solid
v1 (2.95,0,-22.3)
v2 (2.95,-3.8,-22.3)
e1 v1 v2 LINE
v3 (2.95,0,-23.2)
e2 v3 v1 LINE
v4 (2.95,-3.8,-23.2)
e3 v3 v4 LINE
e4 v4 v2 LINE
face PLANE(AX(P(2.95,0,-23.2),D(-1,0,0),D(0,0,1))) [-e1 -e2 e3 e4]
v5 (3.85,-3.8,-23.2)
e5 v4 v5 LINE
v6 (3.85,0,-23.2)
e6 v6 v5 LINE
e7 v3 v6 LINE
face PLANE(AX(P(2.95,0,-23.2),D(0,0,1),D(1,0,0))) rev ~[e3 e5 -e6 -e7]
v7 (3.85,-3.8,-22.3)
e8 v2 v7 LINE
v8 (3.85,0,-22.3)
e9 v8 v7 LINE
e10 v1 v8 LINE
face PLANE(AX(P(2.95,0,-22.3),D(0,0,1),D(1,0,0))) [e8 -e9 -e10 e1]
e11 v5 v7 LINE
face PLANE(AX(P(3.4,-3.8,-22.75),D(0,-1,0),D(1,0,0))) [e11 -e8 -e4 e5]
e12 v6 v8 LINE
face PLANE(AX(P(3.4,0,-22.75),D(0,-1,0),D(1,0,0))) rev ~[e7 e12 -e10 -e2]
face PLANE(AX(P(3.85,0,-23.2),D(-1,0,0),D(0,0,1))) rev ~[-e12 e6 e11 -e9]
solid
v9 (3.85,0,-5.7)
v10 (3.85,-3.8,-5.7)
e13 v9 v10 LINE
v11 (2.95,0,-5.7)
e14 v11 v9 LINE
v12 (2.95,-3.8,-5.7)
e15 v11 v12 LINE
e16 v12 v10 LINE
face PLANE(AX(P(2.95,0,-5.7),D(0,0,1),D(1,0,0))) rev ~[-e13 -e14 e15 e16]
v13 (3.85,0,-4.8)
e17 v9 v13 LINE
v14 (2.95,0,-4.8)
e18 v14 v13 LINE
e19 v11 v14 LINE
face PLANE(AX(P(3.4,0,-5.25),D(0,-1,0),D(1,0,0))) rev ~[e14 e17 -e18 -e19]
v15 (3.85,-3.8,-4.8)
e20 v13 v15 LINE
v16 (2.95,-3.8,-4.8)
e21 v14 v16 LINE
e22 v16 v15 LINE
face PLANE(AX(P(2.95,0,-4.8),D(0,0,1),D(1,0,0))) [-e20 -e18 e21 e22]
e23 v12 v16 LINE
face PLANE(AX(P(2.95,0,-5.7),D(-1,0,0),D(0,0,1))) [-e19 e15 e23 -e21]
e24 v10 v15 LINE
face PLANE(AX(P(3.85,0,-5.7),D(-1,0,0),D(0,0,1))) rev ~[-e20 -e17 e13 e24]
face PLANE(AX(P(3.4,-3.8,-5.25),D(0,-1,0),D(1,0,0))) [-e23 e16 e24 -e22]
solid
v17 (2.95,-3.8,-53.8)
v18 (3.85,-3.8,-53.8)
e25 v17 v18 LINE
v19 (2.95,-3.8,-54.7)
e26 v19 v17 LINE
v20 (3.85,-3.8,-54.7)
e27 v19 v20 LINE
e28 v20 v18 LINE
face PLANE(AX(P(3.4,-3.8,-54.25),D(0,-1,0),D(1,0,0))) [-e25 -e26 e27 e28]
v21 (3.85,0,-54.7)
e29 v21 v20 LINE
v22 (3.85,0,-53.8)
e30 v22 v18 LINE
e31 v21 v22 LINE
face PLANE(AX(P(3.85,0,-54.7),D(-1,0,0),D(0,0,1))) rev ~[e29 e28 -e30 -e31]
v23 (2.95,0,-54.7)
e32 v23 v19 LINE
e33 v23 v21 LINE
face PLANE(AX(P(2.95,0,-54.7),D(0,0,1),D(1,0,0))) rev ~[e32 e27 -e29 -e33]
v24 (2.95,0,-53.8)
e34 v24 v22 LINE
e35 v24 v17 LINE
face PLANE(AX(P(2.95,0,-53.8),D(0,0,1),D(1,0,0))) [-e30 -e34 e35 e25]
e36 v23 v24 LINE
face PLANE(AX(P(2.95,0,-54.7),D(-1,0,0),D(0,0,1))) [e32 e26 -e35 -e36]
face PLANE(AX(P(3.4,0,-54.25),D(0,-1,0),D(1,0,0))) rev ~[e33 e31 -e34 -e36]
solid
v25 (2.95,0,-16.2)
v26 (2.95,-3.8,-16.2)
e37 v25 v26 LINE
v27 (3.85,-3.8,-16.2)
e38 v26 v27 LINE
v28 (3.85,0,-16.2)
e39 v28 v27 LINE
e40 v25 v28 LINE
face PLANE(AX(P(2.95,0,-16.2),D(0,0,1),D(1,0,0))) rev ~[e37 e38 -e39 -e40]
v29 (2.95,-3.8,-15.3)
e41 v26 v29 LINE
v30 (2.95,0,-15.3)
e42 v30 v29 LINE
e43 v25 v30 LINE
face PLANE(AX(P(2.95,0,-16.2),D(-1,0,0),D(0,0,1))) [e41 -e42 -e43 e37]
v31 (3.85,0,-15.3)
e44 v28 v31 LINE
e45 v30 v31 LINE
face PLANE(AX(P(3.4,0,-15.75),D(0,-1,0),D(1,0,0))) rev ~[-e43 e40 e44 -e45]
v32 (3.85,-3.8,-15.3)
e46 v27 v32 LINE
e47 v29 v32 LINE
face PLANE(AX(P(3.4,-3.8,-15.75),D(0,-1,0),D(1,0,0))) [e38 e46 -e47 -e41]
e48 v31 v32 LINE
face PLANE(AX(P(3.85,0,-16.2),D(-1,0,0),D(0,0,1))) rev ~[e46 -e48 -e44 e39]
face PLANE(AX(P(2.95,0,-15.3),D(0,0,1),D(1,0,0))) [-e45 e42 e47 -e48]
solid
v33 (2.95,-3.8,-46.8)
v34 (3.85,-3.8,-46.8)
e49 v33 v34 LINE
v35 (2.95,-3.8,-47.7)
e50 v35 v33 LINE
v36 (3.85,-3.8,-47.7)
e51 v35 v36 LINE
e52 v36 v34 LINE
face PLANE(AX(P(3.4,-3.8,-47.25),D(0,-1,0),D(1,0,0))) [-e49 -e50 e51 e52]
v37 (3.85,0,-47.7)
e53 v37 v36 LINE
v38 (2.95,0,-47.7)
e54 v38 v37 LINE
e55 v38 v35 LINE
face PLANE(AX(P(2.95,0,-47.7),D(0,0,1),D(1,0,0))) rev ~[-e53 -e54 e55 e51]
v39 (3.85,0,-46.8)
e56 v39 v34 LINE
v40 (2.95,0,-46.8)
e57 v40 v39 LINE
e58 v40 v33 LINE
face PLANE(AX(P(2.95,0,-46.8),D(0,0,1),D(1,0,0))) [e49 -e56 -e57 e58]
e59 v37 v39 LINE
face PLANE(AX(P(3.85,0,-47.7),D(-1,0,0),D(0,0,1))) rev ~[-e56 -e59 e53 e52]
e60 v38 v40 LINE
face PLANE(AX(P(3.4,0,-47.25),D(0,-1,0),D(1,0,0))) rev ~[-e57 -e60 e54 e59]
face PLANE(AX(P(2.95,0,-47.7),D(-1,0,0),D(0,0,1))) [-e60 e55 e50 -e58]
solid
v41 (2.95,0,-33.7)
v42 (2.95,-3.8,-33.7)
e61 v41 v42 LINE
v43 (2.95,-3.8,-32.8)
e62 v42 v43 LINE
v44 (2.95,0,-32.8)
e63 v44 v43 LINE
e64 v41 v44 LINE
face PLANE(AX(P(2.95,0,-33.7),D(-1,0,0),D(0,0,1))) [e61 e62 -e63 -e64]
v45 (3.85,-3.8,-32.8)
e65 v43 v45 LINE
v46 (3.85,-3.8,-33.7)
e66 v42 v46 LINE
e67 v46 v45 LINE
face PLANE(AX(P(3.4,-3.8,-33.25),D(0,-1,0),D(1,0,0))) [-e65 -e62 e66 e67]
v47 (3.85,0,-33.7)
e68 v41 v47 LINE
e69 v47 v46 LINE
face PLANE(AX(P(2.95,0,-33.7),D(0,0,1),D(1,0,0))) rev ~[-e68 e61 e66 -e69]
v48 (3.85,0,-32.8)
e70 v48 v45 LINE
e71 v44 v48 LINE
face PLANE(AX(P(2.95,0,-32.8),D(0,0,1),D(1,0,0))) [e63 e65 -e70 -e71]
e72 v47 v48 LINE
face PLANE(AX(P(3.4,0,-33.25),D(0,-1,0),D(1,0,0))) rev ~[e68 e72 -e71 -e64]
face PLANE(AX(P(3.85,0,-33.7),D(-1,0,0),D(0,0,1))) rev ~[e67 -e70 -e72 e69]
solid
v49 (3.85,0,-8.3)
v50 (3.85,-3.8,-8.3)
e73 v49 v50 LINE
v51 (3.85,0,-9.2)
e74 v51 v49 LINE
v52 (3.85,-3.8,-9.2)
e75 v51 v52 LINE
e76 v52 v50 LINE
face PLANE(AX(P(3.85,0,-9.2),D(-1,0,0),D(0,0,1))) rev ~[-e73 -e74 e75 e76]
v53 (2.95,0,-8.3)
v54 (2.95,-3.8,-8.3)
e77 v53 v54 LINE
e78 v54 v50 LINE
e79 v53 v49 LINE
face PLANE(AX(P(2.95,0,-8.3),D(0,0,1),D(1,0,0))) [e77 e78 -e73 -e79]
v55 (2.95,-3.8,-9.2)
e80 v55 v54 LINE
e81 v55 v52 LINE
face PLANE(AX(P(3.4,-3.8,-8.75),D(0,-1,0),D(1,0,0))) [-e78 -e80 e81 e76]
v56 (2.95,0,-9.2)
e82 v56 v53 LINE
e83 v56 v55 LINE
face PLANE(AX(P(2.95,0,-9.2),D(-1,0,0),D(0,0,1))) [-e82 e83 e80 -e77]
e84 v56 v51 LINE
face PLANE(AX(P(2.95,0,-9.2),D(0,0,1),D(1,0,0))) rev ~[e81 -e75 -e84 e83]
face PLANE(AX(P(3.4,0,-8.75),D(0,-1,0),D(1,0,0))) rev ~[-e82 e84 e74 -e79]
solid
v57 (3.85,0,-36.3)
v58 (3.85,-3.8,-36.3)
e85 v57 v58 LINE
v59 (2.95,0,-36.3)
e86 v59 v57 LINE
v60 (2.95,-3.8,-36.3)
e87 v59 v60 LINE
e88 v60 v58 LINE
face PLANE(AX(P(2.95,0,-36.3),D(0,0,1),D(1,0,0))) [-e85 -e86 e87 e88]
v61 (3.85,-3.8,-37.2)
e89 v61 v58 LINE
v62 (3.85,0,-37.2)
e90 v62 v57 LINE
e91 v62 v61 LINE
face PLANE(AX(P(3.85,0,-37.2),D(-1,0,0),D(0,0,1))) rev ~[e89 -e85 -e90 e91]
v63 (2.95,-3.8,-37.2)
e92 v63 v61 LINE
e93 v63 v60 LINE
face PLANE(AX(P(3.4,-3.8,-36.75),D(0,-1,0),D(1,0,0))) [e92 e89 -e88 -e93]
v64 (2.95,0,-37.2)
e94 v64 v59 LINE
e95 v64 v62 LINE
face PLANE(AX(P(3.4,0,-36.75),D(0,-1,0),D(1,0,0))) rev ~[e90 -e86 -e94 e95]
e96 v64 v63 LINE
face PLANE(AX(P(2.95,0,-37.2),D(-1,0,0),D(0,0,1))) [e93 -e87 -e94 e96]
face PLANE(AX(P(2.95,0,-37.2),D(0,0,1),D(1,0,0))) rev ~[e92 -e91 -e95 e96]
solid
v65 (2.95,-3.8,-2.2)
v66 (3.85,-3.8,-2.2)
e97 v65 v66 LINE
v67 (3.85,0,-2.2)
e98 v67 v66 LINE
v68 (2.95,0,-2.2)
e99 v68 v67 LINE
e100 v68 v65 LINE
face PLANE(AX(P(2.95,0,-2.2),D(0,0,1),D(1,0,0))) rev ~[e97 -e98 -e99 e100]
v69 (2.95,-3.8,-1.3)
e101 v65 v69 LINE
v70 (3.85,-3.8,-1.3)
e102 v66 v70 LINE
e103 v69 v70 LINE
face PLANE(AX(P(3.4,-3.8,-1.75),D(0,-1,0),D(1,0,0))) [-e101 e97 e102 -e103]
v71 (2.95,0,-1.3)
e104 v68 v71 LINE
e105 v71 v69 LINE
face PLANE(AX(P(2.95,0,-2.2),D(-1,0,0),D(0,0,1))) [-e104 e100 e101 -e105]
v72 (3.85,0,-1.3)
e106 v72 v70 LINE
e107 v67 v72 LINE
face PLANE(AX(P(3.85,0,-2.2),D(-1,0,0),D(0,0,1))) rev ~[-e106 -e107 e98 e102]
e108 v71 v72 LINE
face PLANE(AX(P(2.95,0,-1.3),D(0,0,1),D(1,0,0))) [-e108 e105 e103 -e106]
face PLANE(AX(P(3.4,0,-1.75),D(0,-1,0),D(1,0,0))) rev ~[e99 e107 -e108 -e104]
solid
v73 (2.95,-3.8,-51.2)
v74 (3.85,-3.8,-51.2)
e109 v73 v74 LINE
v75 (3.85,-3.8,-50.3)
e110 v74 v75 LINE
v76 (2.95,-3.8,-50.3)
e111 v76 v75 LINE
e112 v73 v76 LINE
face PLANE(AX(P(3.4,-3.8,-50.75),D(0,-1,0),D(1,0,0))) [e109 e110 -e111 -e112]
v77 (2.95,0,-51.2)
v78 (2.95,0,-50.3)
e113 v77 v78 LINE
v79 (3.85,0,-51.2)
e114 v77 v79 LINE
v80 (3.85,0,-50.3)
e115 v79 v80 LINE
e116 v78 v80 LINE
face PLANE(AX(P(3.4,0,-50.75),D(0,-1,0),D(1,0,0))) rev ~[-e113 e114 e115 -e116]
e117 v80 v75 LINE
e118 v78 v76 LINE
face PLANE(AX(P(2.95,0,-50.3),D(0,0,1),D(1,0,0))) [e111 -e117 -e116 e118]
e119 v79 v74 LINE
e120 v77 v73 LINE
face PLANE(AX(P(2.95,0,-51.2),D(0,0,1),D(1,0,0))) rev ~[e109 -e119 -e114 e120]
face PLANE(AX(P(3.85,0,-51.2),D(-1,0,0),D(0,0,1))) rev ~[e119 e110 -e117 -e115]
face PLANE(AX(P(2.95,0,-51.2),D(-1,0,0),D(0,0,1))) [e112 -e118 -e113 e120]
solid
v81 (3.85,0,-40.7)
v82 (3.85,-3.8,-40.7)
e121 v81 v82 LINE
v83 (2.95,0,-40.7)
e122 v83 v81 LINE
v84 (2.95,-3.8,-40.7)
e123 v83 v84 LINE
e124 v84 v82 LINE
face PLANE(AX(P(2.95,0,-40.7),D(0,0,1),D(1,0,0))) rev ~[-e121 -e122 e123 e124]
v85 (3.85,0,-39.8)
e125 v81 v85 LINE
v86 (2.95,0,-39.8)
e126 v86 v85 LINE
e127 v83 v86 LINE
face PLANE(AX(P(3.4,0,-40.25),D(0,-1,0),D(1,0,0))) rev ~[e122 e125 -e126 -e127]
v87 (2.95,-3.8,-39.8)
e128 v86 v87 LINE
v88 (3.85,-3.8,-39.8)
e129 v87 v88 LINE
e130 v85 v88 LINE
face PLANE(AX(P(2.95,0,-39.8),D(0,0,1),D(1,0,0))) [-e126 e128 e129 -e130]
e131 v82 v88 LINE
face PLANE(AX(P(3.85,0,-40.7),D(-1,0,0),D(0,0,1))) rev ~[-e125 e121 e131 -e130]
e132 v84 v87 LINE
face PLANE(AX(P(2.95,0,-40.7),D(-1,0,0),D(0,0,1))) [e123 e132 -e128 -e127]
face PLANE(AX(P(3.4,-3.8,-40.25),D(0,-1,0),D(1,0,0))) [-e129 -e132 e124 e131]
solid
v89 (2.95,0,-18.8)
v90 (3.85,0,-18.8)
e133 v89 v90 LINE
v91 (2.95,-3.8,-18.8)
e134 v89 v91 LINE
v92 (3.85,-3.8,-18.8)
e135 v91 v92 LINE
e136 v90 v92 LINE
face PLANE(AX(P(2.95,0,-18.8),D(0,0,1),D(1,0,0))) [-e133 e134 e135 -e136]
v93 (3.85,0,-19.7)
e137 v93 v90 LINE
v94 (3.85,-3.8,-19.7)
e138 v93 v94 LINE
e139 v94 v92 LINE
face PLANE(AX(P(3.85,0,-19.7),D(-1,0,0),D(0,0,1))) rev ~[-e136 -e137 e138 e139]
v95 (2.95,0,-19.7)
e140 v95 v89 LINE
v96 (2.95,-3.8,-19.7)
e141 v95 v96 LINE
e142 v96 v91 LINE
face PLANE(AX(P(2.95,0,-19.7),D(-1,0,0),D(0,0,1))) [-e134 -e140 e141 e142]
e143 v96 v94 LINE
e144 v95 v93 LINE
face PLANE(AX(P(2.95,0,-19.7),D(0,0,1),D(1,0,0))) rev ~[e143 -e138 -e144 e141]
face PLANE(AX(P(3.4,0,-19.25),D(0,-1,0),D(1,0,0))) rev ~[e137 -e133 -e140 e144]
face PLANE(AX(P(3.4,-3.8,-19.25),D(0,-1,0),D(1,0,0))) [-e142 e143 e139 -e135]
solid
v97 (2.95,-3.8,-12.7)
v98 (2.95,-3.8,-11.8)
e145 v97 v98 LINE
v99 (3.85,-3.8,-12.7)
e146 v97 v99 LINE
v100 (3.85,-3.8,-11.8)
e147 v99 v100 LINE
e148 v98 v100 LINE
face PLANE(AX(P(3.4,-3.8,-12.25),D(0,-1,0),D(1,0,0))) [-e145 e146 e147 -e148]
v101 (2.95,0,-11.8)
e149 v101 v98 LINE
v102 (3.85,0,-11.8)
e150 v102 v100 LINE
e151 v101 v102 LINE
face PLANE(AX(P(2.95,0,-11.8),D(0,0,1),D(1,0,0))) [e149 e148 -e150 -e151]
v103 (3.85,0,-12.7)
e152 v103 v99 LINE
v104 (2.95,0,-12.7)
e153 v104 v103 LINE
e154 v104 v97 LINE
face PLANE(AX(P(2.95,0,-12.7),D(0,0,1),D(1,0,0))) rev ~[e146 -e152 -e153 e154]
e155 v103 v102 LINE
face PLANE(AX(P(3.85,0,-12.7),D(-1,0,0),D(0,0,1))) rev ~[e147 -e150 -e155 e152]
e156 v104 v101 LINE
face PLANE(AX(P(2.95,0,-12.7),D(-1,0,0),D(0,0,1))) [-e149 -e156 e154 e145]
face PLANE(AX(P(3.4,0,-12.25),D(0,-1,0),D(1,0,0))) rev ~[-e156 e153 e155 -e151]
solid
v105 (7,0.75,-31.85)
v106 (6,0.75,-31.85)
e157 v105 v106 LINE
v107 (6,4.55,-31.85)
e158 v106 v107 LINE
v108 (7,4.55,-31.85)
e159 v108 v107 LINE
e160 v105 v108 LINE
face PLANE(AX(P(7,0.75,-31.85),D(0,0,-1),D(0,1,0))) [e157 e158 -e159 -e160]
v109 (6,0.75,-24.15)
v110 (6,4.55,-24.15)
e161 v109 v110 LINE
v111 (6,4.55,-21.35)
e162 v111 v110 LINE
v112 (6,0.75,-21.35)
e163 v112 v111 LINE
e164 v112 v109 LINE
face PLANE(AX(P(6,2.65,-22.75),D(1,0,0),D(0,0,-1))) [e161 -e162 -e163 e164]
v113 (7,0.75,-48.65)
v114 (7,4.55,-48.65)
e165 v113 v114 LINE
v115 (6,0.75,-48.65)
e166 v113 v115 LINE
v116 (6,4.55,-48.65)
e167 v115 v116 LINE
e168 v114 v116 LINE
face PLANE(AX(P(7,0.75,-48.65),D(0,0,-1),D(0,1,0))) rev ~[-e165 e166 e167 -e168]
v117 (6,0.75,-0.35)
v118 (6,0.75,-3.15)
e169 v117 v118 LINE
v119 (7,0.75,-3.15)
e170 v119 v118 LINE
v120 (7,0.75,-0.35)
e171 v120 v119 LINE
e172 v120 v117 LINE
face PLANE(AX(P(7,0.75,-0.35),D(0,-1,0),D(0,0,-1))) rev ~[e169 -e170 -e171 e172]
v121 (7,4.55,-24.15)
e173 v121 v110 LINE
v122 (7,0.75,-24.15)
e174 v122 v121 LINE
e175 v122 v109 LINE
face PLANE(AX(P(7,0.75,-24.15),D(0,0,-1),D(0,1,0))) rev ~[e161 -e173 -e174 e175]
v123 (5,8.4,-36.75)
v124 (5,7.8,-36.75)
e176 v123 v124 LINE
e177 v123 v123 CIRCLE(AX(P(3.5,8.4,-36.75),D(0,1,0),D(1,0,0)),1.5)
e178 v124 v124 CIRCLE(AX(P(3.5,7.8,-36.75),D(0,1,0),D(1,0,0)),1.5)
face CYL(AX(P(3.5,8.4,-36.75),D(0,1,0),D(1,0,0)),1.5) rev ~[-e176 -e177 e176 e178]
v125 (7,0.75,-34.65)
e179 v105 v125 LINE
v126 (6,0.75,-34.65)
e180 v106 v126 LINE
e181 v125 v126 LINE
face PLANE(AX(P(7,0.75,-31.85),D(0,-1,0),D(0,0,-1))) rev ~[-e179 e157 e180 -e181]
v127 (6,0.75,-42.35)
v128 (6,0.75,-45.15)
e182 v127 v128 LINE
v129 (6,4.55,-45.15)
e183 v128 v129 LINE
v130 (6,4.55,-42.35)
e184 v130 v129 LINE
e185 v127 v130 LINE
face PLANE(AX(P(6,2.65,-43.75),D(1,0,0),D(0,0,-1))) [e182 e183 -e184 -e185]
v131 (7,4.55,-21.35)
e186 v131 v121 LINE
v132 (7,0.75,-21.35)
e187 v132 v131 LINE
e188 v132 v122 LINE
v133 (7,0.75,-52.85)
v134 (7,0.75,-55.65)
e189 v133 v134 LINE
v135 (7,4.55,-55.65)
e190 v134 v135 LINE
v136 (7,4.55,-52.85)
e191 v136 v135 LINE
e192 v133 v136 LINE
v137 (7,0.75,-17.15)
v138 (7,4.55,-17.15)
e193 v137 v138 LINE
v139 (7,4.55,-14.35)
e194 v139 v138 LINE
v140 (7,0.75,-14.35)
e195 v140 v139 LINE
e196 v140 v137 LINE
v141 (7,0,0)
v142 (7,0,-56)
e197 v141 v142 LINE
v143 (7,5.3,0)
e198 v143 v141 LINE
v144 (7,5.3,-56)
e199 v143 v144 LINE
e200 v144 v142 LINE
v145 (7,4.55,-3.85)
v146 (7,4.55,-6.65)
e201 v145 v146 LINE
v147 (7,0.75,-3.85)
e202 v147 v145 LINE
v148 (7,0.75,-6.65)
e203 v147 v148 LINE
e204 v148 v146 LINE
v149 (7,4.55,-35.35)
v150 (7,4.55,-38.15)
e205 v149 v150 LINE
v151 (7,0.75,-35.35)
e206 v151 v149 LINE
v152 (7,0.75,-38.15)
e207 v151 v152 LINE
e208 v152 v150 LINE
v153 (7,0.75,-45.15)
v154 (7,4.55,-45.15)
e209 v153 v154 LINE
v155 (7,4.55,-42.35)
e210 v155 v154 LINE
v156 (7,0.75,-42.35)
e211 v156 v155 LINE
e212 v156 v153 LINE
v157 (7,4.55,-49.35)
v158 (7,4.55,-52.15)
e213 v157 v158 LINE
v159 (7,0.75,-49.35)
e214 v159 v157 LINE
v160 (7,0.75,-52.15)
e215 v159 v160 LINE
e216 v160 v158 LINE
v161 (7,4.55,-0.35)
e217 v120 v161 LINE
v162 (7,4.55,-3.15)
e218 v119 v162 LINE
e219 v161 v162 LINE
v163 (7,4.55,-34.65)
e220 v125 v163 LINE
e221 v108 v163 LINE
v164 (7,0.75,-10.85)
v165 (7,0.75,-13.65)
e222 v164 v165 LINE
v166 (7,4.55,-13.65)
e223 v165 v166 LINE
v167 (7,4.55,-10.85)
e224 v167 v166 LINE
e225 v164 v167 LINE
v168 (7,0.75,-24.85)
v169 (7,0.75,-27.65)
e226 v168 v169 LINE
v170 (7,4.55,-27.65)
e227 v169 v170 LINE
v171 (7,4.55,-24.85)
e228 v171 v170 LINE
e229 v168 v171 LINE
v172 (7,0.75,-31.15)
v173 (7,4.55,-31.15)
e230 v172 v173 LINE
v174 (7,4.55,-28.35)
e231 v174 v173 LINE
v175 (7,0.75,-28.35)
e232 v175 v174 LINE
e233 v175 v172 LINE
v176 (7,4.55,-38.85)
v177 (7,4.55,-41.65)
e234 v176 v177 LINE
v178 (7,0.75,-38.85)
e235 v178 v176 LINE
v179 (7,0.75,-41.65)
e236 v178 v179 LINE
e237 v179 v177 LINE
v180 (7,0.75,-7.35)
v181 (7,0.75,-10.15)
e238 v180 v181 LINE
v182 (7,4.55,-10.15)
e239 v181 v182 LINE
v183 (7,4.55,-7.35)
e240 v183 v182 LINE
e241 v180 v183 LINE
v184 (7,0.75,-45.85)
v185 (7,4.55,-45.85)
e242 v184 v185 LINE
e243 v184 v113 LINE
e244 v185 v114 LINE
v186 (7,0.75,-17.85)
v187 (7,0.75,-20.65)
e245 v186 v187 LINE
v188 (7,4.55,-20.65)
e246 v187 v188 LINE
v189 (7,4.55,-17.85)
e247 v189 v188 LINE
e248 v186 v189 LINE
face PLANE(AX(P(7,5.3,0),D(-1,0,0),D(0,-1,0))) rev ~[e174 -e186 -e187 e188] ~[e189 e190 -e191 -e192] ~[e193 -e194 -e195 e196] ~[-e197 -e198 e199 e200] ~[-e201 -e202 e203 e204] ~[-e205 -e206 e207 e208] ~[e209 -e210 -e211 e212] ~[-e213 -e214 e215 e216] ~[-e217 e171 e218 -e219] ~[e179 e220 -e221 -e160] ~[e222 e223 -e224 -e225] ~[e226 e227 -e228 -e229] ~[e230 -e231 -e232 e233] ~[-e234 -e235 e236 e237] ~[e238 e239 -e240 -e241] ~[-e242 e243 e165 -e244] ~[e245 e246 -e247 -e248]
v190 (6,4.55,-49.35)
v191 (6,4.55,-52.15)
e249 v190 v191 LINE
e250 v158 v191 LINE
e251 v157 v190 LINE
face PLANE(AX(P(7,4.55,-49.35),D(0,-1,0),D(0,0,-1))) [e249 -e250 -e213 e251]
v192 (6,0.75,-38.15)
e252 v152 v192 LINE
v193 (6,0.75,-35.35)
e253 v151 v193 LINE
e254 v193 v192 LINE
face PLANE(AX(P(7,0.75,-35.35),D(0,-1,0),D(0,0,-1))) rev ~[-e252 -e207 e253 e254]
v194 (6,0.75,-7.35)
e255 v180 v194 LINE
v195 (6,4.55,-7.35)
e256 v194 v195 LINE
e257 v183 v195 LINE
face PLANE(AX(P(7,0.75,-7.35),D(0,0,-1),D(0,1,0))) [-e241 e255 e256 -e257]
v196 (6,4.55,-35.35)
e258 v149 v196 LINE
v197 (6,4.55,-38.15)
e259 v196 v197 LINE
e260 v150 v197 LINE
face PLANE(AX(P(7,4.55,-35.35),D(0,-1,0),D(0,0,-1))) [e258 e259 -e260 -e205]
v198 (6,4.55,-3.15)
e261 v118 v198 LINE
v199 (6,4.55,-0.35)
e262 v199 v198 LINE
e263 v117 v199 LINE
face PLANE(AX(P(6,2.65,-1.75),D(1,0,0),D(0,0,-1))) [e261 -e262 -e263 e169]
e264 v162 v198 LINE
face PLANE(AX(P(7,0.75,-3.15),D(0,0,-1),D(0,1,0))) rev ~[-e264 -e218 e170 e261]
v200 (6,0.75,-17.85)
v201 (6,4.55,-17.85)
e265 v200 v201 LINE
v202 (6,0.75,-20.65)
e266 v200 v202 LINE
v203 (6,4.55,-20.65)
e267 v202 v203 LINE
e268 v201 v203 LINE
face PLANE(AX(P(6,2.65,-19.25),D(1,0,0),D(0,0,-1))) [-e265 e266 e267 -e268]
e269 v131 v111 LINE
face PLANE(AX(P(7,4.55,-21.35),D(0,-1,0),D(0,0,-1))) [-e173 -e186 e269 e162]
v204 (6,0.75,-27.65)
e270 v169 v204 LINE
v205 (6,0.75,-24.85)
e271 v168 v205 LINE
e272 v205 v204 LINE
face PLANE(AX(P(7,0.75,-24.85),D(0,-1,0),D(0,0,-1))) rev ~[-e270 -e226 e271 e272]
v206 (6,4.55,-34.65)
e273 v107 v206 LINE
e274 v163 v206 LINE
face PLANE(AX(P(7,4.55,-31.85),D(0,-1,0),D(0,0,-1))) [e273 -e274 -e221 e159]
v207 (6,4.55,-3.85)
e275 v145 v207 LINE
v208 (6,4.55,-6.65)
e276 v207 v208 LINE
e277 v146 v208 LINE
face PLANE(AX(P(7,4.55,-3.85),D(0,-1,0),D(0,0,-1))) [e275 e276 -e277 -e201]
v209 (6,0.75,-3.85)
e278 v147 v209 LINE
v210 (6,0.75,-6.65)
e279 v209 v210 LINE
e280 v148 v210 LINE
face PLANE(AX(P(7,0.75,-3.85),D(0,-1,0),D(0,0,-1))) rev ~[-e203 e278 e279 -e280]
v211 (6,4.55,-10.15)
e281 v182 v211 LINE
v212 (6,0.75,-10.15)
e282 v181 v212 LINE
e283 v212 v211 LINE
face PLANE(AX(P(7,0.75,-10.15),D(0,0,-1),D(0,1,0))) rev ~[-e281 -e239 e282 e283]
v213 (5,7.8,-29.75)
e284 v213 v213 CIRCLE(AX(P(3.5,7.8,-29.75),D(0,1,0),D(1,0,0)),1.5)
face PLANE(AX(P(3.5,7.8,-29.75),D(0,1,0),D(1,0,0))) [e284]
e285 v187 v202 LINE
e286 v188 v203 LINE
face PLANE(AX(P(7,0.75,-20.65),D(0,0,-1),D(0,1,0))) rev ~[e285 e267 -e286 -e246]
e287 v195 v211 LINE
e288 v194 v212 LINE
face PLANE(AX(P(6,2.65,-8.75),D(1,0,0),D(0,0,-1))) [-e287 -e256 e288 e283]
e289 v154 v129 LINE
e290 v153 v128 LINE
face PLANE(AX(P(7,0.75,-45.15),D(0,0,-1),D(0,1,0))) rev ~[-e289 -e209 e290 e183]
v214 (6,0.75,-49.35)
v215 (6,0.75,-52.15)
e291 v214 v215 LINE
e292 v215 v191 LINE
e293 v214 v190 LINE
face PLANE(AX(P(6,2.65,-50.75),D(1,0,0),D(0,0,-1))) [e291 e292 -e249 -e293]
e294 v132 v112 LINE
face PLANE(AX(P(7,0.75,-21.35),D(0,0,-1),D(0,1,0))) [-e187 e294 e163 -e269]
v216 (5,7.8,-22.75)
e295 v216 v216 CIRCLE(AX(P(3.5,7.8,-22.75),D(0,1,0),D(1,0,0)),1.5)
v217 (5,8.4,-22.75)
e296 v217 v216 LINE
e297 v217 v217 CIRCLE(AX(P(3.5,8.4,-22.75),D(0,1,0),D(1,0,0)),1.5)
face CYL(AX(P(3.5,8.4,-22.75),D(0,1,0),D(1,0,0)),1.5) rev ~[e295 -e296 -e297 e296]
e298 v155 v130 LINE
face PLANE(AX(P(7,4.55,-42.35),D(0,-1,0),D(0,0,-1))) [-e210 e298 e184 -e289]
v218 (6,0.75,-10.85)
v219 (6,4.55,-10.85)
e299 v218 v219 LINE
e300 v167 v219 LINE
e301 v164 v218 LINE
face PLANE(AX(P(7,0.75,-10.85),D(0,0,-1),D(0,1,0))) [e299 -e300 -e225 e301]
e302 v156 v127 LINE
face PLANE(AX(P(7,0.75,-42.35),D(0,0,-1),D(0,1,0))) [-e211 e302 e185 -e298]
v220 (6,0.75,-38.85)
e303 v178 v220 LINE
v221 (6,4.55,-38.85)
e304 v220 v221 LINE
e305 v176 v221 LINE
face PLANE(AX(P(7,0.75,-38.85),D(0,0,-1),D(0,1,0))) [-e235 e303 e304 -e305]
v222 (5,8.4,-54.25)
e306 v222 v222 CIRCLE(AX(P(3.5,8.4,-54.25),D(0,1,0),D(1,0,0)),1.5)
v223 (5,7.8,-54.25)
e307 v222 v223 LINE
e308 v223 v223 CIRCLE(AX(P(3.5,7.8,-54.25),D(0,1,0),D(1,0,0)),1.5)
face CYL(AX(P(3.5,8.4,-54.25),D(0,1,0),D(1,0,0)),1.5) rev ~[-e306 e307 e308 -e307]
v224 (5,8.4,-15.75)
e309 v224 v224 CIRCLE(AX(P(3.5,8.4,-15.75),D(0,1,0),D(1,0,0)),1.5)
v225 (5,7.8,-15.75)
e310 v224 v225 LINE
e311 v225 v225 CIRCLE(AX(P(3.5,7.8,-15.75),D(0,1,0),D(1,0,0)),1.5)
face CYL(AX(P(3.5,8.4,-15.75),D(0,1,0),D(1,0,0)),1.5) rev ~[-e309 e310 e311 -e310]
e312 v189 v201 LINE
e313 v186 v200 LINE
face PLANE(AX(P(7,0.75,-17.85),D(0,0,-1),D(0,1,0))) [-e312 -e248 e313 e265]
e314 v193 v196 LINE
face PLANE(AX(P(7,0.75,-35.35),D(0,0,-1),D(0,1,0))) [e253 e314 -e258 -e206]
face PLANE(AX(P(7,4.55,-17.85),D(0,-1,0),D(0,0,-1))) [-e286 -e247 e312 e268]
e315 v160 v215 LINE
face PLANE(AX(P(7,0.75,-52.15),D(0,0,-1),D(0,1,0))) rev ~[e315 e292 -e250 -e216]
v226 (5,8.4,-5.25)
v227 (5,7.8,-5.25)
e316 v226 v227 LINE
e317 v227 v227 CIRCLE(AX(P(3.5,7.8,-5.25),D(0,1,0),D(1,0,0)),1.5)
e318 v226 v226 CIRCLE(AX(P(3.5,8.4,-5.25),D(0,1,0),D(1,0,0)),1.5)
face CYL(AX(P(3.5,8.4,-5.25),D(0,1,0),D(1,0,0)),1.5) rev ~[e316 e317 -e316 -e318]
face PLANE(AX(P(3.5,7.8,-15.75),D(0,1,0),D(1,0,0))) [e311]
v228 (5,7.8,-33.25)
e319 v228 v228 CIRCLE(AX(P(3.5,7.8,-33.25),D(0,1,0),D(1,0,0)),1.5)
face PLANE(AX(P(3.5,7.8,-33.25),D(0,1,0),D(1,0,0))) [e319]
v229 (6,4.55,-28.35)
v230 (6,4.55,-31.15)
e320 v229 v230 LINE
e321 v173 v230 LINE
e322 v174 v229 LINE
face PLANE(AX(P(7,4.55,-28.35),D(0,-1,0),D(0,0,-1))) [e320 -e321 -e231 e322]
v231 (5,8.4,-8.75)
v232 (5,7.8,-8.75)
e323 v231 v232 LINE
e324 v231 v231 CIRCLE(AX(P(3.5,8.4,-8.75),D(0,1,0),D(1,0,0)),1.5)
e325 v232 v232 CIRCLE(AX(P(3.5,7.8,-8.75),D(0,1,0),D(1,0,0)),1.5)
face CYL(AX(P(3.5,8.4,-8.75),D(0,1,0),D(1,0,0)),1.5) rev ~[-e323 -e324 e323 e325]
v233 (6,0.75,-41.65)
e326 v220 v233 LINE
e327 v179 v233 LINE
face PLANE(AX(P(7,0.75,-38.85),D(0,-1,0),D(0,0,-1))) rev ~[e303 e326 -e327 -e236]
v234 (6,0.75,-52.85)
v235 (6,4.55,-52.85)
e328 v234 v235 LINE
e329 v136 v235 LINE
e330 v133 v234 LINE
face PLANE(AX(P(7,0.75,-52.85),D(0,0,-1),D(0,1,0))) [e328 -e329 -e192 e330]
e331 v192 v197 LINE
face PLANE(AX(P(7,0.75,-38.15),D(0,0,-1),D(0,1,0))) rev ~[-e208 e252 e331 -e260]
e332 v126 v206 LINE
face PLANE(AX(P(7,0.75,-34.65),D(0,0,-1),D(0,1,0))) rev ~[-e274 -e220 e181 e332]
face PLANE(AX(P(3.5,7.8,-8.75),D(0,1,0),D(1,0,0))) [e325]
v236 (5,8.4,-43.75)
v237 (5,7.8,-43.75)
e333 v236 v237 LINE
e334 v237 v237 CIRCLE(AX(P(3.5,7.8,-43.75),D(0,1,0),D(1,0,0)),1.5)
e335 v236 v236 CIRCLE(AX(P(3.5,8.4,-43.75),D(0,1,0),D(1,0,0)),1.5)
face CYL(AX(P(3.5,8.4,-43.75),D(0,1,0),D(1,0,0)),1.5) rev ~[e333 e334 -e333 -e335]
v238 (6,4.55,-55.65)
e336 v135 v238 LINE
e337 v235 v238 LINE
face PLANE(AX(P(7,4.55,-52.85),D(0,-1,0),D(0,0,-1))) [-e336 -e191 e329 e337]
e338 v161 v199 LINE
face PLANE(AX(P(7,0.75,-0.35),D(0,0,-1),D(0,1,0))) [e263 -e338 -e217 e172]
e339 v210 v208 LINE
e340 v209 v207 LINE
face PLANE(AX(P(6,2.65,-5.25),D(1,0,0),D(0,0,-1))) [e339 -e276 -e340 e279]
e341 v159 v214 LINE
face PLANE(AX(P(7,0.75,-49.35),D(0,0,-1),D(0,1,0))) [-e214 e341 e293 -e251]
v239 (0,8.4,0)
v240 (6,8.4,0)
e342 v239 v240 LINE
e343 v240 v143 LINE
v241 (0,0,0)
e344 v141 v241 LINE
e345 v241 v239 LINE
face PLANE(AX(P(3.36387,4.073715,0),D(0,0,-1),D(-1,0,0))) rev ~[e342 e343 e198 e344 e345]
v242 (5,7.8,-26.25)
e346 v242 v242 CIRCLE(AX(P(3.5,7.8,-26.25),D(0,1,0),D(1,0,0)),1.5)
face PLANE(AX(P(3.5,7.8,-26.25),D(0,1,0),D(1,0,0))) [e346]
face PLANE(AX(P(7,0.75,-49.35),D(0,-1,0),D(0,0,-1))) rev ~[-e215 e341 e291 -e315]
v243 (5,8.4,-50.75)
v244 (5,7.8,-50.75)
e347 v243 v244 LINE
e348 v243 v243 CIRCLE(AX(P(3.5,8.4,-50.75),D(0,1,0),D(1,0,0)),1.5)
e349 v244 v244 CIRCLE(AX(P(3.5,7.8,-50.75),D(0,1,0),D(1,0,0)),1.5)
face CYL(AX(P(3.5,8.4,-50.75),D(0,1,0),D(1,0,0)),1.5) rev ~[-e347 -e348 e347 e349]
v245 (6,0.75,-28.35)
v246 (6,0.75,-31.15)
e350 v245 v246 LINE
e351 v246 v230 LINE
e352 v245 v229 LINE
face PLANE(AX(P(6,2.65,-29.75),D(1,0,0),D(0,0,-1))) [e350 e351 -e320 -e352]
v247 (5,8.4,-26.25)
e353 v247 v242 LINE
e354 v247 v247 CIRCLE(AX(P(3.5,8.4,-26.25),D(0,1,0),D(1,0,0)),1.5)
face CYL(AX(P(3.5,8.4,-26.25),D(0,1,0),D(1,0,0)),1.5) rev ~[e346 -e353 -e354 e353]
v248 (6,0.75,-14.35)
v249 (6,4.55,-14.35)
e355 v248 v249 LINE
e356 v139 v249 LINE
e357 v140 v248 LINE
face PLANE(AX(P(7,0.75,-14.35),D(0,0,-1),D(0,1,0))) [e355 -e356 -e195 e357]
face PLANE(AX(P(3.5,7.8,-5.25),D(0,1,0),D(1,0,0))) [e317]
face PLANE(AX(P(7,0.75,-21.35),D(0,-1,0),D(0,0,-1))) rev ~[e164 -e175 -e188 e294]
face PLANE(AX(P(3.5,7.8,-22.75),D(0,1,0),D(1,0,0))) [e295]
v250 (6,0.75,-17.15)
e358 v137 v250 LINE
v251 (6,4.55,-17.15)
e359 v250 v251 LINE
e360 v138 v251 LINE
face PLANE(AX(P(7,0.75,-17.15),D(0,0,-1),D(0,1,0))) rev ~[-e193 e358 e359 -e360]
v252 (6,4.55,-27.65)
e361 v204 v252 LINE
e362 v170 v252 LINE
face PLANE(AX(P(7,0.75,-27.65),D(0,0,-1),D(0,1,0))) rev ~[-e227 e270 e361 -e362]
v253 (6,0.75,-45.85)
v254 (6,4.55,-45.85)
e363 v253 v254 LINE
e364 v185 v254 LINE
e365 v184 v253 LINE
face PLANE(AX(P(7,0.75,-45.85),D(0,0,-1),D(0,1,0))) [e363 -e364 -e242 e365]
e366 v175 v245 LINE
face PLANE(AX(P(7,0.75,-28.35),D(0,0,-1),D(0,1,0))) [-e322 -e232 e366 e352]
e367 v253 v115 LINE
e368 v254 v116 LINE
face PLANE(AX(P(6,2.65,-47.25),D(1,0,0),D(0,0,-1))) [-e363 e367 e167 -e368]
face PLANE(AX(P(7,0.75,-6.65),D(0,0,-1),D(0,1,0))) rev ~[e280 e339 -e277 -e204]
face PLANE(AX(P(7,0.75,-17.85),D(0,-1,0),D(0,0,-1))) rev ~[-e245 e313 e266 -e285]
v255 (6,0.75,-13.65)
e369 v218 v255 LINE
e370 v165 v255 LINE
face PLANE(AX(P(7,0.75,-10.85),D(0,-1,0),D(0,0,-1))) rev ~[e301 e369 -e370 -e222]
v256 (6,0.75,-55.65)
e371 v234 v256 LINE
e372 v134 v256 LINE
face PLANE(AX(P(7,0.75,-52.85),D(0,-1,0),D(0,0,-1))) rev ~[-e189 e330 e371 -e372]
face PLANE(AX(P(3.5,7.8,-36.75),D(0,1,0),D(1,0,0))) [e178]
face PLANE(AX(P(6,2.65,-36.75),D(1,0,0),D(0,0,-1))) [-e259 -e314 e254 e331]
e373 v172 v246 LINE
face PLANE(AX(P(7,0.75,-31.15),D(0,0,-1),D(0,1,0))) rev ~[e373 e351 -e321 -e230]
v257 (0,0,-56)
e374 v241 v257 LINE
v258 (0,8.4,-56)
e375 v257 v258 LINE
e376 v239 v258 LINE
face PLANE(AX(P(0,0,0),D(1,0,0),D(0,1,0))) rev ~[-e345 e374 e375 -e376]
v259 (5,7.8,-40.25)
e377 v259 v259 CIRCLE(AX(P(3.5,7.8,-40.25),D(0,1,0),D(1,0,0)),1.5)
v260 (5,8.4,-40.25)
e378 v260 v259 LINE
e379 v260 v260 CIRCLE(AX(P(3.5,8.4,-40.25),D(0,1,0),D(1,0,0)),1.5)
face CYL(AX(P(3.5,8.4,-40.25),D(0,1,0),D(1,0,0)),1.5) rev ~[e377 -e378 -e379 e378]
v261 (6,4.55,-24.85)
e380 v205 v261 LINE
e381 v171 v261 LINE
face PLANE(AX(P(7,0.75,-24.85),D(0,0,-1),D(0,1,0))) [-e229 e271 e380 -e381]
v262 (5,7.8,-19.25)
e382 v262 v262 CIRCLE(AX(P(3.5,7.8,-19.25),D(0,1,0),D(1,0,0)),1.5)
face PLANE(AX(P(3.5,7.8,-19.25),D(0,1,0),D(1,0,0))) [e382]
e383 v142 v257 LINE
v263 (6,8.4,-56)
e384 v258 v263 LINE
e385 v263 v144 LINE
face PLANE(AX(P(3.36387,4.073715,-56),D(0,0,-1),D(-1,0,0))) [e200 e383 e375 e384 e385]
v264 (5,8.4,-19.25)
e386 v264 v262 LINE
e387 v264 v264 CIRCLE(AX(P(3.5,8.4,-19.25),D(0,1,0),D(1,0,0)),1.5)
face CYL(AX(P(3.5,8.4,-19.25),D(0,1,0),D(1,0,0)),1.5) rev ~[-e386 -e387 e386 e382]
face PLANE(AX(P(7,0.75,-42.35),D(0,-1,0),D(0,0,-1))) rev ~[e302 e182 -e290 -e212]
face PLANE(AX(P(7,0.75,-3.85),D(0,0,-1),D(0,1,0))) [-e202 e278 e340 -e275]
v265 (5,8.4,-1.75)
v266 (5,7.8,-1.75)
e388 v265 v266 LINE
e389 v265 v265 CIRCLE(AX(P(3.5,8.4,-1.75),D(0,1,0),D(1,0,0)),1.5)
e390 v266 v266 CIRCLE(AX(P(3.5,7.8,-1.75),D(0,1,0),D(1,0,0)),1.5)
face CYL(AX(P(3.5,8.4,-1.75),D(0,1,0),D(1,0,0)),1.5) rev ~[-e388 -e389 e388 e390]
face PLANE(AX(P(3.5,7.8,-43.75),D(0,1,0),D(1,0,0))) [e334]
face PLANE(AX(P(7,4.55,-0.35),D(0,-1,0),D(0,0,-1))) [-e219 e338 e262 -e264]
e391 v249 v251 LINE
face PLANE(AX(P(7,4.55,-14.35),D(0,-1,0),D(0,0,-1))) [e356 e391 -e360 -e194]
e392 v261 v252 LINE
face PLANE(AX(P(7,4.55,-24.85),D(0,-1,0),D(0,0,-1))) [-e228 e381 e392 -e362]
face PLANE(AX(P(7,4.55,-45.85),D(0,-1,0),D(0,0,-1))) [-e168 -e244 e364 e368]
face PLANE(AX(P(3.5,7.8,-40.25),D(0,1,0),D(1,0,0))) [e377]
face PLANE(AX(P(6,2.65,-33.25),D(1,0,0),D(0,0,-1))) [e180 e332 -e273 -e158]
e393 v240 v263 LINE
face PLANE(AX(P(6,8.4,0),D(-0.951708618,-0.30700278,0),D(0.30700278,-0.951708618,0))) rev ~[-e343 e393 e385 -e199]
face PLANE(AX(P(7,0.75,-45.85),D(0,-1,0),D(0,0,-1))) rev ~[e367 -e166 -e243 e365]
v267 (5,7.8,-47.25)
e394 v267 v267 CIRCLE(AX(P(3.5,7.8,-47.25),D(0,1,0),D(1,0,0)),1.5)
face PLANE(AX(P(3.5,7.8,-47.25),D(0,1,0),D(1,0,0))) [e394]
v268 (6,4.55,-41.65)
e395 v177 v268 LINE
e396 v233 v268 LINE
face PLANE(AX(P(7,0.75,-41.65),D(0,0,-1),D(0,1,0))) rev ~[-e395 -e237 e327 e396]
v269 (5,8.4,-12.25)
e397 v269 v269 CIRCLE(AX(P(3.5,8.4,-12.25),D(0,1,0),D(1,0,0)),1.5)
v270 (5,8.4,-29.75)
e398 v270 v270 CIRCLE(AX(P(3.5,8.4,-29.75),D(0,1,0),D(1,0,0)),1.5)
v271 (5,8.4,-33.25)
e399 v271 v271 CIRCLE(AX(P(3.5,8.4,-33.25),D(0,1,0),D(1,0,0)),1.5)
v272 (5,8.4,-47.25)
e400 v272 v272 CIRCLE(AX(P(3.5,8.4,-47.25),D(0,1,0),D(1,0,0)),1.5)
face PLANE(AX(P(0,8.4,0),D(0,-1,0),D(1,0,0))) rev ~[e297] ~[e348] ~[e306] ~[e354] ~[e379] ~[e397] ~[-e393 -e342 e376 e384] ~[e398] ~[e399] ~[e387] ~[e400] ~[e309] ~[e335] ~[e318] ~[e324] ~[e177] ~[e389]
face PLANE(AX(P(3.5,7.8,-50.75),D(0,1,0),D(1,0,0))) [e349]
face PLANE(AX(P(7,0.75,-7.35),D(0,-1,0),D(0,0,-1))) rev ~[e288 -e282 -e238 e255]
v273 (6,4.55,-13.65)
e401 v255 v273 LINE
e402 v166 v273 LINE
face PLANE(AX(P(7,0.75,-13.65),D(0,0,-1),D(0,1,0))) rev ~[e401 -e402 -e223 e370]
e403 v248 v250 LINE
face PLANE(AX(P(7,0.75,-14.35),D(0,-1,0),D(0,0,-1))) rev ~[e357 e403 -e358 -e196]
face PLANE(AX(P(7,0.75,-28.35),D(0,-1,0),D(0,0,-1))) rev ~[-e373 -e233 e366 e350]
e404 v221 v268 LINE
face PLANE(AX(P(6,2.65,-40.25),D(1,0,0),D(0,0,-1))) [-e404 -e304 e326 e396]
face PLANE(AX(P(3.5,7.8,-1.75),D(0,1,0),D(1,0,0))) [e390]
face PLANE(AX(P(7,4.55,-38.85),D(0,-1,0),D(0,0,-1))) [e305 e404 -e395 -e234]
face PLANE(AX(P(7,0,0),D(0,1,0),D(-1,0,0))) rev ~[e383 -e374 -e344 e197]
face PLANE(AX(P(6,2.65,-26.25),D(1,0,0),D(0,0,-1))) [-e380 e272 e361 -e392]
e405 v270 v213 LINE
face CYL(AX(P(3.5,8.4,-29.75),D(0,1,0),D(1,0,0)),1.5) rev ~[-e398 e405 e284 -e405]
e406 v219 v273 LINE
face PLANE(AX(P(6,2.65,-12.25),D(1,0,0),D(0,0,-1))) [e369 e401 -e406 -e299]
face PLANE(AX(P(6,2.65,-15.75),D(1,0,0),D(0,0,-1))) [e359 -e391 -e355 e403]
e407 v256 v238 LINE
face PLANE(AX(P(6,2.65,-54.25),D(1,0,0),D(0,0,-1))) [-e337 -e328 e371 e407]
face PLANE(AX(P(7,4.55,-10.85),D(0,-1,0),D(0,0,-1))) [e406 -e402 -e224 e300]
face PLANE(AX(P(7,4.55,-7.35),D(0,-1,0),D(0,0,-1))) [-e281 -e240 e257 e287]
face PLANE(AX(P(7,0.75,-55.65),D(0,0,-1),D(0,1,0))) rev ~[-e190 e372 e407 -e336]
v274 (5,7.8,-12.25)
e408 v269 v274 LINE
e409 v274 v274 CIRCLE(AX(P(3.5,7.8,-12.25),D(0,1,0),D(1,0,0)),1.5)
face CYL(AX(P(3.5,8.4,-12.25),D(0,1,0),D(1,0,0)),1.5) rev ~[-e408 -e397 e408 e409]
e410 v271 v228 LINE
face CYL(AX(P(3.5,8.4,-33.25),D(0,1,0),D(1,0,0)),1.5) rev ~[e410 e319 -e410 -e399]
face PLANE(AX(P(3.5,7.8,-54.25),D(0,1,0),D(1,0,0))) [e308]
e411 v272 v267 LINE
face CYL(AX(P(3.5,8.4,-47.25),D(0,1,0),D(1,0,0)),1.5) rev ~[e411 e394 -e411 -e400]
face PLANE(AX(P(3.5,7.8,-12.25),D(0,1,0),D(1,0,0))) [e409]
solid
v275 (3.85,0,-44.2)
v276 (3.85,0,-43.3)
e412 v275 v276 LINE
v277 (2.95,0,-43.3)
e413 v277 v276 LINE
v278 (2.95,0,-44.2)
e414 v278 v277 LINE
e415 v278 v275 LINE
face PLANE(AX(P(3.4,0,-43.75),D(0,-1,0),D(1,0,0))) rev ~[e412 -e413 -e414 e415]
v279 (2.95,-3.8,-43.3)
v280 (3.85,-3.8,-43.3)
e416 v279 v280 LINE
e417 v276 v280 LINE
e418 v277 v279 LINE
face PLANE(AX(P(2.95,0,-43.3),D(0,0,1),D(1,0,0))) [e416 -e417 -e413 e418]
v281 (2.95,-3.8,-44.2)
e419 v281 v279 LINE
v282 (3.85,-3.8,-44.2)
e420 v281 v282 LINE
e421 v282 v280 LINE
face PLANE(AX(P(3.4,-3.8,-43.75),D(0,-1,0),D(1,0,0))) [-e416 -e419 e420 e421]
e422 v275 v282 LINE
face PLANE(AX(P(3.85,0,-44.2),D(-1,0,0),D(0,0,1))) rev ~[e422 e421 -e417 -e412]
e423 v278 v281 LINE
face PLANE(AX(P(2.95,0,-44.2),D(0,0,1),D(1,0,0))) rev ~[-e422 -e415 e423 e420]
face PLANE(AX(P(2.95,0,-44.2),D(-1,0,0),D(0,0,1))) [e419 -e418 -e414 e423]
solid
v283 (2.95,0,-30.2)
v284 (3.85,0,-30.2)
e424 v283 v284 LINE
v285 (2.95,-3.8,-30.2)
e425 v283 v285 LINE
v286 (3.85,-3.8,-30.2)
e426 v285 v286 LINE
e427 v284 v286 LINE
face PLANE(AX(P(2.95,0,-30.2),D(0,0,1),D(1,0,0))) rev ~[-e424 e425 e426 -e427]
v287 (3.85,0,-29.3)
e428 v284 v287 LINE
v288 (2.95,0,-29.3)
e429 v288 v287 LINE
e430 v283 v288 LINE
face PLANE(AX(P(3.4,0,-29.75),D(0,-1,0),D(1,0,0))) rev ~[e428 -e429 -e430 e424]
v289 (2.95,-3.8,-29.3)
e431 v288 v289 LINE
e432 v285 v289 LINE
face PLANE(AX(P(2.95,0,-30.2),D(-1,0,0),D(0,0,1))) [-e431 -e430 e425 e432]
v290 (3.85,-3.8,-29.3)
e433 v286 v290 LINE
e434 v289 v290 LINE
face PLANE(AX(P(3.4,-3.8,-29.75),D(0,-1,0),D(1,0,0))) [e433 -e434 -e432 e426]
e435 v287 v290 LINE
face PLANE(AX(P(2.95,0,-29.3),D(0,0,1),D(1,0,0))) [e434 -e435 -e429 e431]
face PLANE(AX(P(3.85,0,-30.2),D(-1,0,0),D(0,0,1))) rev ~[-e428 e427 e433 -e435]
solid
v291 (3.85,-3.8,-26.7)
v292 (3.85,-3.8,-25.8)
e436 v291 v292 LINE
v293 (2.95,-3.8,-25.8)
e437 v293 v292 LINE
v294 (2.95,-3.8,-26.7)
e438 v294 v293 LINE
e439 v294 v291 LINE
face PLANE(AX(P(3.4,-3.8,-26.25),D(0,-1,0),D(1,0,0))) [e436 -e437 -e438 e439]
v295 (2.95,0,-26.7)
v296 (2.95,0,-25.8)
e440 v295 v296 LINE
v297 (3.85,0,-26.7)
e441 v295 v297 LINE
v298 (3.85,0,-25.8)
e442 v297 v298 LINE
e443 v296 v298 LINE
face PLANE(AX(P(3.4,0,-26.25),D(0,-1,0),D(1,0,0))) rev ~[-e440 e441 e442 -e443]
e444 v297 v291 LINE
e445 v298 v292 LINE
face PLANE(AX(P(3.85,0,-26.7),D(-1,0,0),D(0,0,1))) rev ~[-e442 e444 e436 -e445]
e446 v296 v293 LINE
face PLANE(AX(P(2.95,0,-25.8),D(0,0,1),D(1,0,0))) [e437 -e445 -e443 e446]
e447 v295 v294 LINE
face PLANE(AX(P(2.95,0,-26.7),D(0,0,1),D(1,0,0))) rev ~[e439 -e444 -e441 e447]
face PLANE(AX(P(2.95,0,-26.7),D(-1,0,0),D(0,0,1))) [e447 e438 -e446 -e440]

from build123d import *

# Parameters (mm, degrees)
BOSS_EXTRUDE1_DEPTH    = 56
SKETCH3_R              = 1.5
CUT_EXTRUDE1_DEPTH     = 0.6
SKETCH4_W              = 2.8
SKETCH4_H              = 3.8
CUT_EXTRUDE2_DEPTH     = 1
SKETCH5_W              = 0.9
SKETCH5_H              = 0.9
BOSS_EXTRUDE2_DEPTH    = 3.8
BOSS_EXTRUDE2_2_DEPTH  = 3.8
BOSS_EXTRUDE2_3_DEPTH  = 3.8
BOSS_EXTRUDE2_4_DEPTH  = 3.8
BOSS_EXTRUDE2_5_DEPTH  = 3.8
BOSS_EXTRUDE2_6_DEPTH  = 3.8
BOSS_EXTRUDE2_7_DEPTH  = 3.8
BOSS_EXTRUDE2_8_DEPTH  = 3.8
BOSS_EXTRUDE2_9_DEPTH  = 3.8
BOSS_EXTRUDE2_10_DEPTH = 3.8
BOSS_EXTRUDE2_11_DEPTH = 3.8
BOSS_EXTRUDE2_12_DEPTH = 3.8
BOSS_EXTRUDE2_13_DEPTH = 3.8
BOSS_EXTRUDE2_14_DEPTH = 3.8
BOSS_EXTRUDE2_15_DEPTH = 3.8
BOSS_EXTRUDE2_16_DEPTH = 3.8


with BuildPart() as part:
    # Sketch2 → Boss-Extrude1 (new body)
    with BuildSketch(Plane.XY):
        Polygon((0, 0), (0, 8.4), (6, 8.4), (7, 5.3), (7, 0), align=None)
    extrude(amount=-BOSS_EXTRUDE1_DEPTH)

    # Sketch3 → Cut-Extrude1 (cut)
    with BuildSketch(Plane(origin=(0, 8.4, 0), x_dir=(1, 0, 0), z_dir=(0, 1, 0))):
        with Locations((3.5, 1.75)):
            Circle(SKETCH3_R)
        with Locations((3.5, 5.25)):
            Circle(SKETCH3_R)
        with Locations((3.5, 8.75)):
            Circle(SKETCH3_R)
        with Locations((3.5, 12.25)):
            Circle(SKETCH3_R)
        with Locations((3.5, 15.75)):
            Circle(SKETCH3_R)
        with Locations((3.5, 19.25)):
            Circle(SKETCH3_R)
        with Locations((3.5, 22.75)):
            Circle(SKETCH3_R)
        with Locations((3.5, 26.25)):
            Circle(SKETCH3_R)
        with Locations((3.5, 29.75)):
            Circle(SKETCH3_R)
        with Locations((3.5, 33.25)):
            Circle(SKETCH3_R)
        with Locations((3.5, 36.75)):
            Circle(SKETCH3_R)
        with Locations((3.5, 40.25)):
            Circle(SKETCH3_R)
        with Locations((3.5, 43.75)):
            Circle(SKETCH3_R)
        with Locations((3.5, 47.25)):
            Circle(SKETCH3_R)
        with Locations((3.5, 50.75)):
            Circle(SKETCH3_R)
        with Locations((3.5, 54.25)):
            Circle(SKETCH3_R)
    extrude(amount=-CUT_EXTRUDE1_DEPTH, mode=Mode.SUBTRACT)

    # Sketch4 → Cut-Extrude2 (cut)
    with BuildSketch(Plane(origin=(7, 0, 0), x_dir=(0, 0, -1), z_dir=(1, 0, 0))):
        with Locations((5.25, 2.65)):
            Rectangle(SKETCH4_W, SKETCH4_H)
        with Locations((1.75, 2.65)):
            Rectangle(SKETCH4_W, SKETCH4_H)
        with Locations((8.75, 2.65)):
            Rectangle(SKETCH4_W, SKETCH4_H)
        with Locations((12.25, 2.65)):
            Rectangle(SKETCH4_W, SKETCH4_H)
        with Locations((15.75, 2.65)):
            Rectangle(SKETCH4_W, SKETCH4_H)
        with Locations((19.25, 2.65)):
            Rectangle(SKETCH4_W, SKETCH4_H)
        with Locations((22.75, 2.65)):
            Rectangle(SKETCH4_W, SKETCH4_H)
        with Locations((26.25, 2.65)):
            Rectangle(SKETCH4_W, SKETCH4_H)
        with Locations((29.75, 2.65)):
            Rectangle(SKETCH4_W, SKETCH4_H)
        with Locations((33.25, 2.65)):
            Rectangle(SKETCH4_W, SKETCH4_H)
        with Locations((36.75, 2.65)):
            Rectangle(SKETCH4_W, SKETCH4_H)
        with Locations((40.25, 2.65)):
            Rectangle(SKETCH4_W, SKETCH4_H)
        with Locations((43.75, 2.65)):
            Rectangle(SKETCH4_W, SKETCH4_H)
        with Locations((47.25, 2.65)):
            Rectangle(SKETCH4_W, SKETCH4_H)
        with Locations((50.75, 2.65)):
            Rectangle(SKETCH4_W, SKETCH4_H)
        with Locations((54.25, 2.65)):
            Rectangle(SKETCH4_W, SKETCH4_H)
    extrude(amount=-CUT_EXTRUDE2_DEPTH, mode=Mode.SUBTRACT)


with BuildPart() as body_2:
    # Sketch5 → Boss-Extrude2 (new body)
    with BuildSketch(Plane.XZ):
        with Locations((3.4, -1.75)):
            Rectangle(SKETCH5_W, SKETCH5_H)
    extrude(amount=BOSS_EXTRUDE2_DEPTH)


with BuildPart() as body_3:
    # Sketch5 → Boss-Extrude2 2 (new body)
    with BuildSketch(Plane.XZ):
        with Locations((3.4, -5.25)):
            Rectangle(SKETCH5_W, SKETCH5_H)
    extrude(amount=BOSS_EXTRUDE2_2_DEPTH)


with BuildPart() as body_4:
    # Sketch5 → Boss-Extrude2 3 (new body)
    with BuildSketch(Plane.XZ):
        with Locations((3.4, -8.75)):
            Rectangle(SKETCH5_W, SKETCH5_H)
    extrude(amount=BOSS_EXTRUDE2_3_DEPTH)


with BuildPart() as body_5:
    # Sketch5 → Boss-Extrude2 4 (new body)
    with BuildSketch(Plane.XZ):
        with Locations((3.4, -12.25)):
            Rectangle(SKETCH5_W, SKETCH5_H)
    extrude(amount=BOSS_EXTRUDE2_4_DEPTH)


with BuildPart() as body_6:
    # Sketch5 → Boss-Extrude2 5 (new body)
    with BuildSketch(Plane.XZ):
        with Locations((3.4, -15.75)):
            Rectangle(SKETCH5_W, SKETCH5_H)
    extrude(amount=BOSS_EXTRUDE2_5_DEPTH)


with BuildPart() as body_7:
    # Sketch5 → Boss-Extrude2 6 (new body)
    with BuildSketch(Plane.XZ):
        with Locations((3.4, -19.25)):
            Rectangle(SKETCH5_W, SKETCH5_H)
    extrude(amount=BOSS_EXTRUDE2_6_DEPTH)


with BuildPart() as body_8:
    # Sketch5 → Boss-Extrude2 7 (new body)
    with BuildSketch(Plane.XZ):
        with Locations((3.4, -22.75)):
            Rectangle(SKETCH5_W, SKETCH5_H)
    extrude(amount=BOSS_EXTRUDE2_7_DEPTH)


with BuildPart() as body_9:
    # Sketch5 → Boss-Extrude2 8 (new body)
    with BuildSketch(Plane.XZ):
        with Locations((3.4, -26.25)):
            Rectangle(SKETCH5_W, SKETCH5_H)
    extrude(amount=BOSS_EXTRUDE2_8_DEPTH)


with BuildPart() as body_10:
    # Sketch5 → Boss-Extrude2 9 (new body)
    with BuildSketch(Plane.XZ):
        with Locations((3.4, -29.75)):
            Rectangle(SKETCH5_W, SKETCH5_H)
    extrude(amount=BOSS_EXTRUDE2_9_DEPTH)


with BuildPart() as body_11:
    # Sketch5 → Boss-Extrude2 10 (new body)
    with BuildSketch(Plane.XZ):
        with Locations((3.4, -33.25)):
            Rectangle(SKETCH5_W, SKETCH5_H)
    extrude(amount=BOSS_EXTRUDE2_10_DEPTH)


with BuildPart() as body_12:
    # Sketch5 → Boss-Extrude2 11 (new body)
    with BuildSketch(Plane.XZ):
        with Locations((3.4, -36.75)):
            Rectangle(SKETCH5_W, SKETCH5_H)
    extrude(amount=BOSS_EXTRUDE2_11_DEPTH)


with BuildPart() as body_13:
    # Sketch5 → Boss-Extrude2 12 (new body)
    with BuildSketch(Plane.XZ):
        with Locations((3.4, -40.25)):
            Rectangle(SKETCH5_W, SKETCH5_H)
    extrude(amount=BOSS_EXTRUDE2_12_DEPTH)


with BuildPart() as body_14:
    # Sketch5 → Boss-Extrude2 13 (new body)
    with BuildSketch(Plane.XZ):
        with Locations((3.4, -43.75)):
            Rectangle(SKETCH5_W, SKETCH5_H)
    extrude(amount=BOSS_EXTRUDE2_13_DEPTH)


with BuildPart() as body_15:
    # Sketch5 → Boss-Extrude2 14 (new body)
    with BuildSketch(Plane.XZ):
        with Locations((3.4, -47.25)):
            Rectangle(SKETCH5_W, SKETCH5_H)
    extrude(amount=BOSS_EXTRUDE2_14_DEPTH)


with BuildPart() as body_16:
    # Sketch5 → Boss-Extrude2 15 (new body)
    with BuildSketch(Plane.XZ):
        with Locations((3.4, -50.75)):
            Rectangle(SKETCH5_W, SKETCH5_H)
    extrude(amount=BOSS_EXTRUDE2_15_DEPTH)


with BuildPart() as body_17:
    # Sketch5 → Boss-Extrude2 16 (new body)
    with BuildSketch(Plane.XZ):
        with Locations((3.4, -54.25)):
            Rectangle(SKETCH5_W, SKETCH5_H)
    extrude(amount=BOSS_EXTRUDE2_16_DEPTH)


solid = Compound([part.part, body_2.part, body_3.part, body_4.part, body_5.part, body_6.part, body_7.part, body_8.part, body_9.part, body_10.part, body_11.part, body_12.part, body_13.part, body_14.part, body_15.part, body_16.part, body_17.part])
